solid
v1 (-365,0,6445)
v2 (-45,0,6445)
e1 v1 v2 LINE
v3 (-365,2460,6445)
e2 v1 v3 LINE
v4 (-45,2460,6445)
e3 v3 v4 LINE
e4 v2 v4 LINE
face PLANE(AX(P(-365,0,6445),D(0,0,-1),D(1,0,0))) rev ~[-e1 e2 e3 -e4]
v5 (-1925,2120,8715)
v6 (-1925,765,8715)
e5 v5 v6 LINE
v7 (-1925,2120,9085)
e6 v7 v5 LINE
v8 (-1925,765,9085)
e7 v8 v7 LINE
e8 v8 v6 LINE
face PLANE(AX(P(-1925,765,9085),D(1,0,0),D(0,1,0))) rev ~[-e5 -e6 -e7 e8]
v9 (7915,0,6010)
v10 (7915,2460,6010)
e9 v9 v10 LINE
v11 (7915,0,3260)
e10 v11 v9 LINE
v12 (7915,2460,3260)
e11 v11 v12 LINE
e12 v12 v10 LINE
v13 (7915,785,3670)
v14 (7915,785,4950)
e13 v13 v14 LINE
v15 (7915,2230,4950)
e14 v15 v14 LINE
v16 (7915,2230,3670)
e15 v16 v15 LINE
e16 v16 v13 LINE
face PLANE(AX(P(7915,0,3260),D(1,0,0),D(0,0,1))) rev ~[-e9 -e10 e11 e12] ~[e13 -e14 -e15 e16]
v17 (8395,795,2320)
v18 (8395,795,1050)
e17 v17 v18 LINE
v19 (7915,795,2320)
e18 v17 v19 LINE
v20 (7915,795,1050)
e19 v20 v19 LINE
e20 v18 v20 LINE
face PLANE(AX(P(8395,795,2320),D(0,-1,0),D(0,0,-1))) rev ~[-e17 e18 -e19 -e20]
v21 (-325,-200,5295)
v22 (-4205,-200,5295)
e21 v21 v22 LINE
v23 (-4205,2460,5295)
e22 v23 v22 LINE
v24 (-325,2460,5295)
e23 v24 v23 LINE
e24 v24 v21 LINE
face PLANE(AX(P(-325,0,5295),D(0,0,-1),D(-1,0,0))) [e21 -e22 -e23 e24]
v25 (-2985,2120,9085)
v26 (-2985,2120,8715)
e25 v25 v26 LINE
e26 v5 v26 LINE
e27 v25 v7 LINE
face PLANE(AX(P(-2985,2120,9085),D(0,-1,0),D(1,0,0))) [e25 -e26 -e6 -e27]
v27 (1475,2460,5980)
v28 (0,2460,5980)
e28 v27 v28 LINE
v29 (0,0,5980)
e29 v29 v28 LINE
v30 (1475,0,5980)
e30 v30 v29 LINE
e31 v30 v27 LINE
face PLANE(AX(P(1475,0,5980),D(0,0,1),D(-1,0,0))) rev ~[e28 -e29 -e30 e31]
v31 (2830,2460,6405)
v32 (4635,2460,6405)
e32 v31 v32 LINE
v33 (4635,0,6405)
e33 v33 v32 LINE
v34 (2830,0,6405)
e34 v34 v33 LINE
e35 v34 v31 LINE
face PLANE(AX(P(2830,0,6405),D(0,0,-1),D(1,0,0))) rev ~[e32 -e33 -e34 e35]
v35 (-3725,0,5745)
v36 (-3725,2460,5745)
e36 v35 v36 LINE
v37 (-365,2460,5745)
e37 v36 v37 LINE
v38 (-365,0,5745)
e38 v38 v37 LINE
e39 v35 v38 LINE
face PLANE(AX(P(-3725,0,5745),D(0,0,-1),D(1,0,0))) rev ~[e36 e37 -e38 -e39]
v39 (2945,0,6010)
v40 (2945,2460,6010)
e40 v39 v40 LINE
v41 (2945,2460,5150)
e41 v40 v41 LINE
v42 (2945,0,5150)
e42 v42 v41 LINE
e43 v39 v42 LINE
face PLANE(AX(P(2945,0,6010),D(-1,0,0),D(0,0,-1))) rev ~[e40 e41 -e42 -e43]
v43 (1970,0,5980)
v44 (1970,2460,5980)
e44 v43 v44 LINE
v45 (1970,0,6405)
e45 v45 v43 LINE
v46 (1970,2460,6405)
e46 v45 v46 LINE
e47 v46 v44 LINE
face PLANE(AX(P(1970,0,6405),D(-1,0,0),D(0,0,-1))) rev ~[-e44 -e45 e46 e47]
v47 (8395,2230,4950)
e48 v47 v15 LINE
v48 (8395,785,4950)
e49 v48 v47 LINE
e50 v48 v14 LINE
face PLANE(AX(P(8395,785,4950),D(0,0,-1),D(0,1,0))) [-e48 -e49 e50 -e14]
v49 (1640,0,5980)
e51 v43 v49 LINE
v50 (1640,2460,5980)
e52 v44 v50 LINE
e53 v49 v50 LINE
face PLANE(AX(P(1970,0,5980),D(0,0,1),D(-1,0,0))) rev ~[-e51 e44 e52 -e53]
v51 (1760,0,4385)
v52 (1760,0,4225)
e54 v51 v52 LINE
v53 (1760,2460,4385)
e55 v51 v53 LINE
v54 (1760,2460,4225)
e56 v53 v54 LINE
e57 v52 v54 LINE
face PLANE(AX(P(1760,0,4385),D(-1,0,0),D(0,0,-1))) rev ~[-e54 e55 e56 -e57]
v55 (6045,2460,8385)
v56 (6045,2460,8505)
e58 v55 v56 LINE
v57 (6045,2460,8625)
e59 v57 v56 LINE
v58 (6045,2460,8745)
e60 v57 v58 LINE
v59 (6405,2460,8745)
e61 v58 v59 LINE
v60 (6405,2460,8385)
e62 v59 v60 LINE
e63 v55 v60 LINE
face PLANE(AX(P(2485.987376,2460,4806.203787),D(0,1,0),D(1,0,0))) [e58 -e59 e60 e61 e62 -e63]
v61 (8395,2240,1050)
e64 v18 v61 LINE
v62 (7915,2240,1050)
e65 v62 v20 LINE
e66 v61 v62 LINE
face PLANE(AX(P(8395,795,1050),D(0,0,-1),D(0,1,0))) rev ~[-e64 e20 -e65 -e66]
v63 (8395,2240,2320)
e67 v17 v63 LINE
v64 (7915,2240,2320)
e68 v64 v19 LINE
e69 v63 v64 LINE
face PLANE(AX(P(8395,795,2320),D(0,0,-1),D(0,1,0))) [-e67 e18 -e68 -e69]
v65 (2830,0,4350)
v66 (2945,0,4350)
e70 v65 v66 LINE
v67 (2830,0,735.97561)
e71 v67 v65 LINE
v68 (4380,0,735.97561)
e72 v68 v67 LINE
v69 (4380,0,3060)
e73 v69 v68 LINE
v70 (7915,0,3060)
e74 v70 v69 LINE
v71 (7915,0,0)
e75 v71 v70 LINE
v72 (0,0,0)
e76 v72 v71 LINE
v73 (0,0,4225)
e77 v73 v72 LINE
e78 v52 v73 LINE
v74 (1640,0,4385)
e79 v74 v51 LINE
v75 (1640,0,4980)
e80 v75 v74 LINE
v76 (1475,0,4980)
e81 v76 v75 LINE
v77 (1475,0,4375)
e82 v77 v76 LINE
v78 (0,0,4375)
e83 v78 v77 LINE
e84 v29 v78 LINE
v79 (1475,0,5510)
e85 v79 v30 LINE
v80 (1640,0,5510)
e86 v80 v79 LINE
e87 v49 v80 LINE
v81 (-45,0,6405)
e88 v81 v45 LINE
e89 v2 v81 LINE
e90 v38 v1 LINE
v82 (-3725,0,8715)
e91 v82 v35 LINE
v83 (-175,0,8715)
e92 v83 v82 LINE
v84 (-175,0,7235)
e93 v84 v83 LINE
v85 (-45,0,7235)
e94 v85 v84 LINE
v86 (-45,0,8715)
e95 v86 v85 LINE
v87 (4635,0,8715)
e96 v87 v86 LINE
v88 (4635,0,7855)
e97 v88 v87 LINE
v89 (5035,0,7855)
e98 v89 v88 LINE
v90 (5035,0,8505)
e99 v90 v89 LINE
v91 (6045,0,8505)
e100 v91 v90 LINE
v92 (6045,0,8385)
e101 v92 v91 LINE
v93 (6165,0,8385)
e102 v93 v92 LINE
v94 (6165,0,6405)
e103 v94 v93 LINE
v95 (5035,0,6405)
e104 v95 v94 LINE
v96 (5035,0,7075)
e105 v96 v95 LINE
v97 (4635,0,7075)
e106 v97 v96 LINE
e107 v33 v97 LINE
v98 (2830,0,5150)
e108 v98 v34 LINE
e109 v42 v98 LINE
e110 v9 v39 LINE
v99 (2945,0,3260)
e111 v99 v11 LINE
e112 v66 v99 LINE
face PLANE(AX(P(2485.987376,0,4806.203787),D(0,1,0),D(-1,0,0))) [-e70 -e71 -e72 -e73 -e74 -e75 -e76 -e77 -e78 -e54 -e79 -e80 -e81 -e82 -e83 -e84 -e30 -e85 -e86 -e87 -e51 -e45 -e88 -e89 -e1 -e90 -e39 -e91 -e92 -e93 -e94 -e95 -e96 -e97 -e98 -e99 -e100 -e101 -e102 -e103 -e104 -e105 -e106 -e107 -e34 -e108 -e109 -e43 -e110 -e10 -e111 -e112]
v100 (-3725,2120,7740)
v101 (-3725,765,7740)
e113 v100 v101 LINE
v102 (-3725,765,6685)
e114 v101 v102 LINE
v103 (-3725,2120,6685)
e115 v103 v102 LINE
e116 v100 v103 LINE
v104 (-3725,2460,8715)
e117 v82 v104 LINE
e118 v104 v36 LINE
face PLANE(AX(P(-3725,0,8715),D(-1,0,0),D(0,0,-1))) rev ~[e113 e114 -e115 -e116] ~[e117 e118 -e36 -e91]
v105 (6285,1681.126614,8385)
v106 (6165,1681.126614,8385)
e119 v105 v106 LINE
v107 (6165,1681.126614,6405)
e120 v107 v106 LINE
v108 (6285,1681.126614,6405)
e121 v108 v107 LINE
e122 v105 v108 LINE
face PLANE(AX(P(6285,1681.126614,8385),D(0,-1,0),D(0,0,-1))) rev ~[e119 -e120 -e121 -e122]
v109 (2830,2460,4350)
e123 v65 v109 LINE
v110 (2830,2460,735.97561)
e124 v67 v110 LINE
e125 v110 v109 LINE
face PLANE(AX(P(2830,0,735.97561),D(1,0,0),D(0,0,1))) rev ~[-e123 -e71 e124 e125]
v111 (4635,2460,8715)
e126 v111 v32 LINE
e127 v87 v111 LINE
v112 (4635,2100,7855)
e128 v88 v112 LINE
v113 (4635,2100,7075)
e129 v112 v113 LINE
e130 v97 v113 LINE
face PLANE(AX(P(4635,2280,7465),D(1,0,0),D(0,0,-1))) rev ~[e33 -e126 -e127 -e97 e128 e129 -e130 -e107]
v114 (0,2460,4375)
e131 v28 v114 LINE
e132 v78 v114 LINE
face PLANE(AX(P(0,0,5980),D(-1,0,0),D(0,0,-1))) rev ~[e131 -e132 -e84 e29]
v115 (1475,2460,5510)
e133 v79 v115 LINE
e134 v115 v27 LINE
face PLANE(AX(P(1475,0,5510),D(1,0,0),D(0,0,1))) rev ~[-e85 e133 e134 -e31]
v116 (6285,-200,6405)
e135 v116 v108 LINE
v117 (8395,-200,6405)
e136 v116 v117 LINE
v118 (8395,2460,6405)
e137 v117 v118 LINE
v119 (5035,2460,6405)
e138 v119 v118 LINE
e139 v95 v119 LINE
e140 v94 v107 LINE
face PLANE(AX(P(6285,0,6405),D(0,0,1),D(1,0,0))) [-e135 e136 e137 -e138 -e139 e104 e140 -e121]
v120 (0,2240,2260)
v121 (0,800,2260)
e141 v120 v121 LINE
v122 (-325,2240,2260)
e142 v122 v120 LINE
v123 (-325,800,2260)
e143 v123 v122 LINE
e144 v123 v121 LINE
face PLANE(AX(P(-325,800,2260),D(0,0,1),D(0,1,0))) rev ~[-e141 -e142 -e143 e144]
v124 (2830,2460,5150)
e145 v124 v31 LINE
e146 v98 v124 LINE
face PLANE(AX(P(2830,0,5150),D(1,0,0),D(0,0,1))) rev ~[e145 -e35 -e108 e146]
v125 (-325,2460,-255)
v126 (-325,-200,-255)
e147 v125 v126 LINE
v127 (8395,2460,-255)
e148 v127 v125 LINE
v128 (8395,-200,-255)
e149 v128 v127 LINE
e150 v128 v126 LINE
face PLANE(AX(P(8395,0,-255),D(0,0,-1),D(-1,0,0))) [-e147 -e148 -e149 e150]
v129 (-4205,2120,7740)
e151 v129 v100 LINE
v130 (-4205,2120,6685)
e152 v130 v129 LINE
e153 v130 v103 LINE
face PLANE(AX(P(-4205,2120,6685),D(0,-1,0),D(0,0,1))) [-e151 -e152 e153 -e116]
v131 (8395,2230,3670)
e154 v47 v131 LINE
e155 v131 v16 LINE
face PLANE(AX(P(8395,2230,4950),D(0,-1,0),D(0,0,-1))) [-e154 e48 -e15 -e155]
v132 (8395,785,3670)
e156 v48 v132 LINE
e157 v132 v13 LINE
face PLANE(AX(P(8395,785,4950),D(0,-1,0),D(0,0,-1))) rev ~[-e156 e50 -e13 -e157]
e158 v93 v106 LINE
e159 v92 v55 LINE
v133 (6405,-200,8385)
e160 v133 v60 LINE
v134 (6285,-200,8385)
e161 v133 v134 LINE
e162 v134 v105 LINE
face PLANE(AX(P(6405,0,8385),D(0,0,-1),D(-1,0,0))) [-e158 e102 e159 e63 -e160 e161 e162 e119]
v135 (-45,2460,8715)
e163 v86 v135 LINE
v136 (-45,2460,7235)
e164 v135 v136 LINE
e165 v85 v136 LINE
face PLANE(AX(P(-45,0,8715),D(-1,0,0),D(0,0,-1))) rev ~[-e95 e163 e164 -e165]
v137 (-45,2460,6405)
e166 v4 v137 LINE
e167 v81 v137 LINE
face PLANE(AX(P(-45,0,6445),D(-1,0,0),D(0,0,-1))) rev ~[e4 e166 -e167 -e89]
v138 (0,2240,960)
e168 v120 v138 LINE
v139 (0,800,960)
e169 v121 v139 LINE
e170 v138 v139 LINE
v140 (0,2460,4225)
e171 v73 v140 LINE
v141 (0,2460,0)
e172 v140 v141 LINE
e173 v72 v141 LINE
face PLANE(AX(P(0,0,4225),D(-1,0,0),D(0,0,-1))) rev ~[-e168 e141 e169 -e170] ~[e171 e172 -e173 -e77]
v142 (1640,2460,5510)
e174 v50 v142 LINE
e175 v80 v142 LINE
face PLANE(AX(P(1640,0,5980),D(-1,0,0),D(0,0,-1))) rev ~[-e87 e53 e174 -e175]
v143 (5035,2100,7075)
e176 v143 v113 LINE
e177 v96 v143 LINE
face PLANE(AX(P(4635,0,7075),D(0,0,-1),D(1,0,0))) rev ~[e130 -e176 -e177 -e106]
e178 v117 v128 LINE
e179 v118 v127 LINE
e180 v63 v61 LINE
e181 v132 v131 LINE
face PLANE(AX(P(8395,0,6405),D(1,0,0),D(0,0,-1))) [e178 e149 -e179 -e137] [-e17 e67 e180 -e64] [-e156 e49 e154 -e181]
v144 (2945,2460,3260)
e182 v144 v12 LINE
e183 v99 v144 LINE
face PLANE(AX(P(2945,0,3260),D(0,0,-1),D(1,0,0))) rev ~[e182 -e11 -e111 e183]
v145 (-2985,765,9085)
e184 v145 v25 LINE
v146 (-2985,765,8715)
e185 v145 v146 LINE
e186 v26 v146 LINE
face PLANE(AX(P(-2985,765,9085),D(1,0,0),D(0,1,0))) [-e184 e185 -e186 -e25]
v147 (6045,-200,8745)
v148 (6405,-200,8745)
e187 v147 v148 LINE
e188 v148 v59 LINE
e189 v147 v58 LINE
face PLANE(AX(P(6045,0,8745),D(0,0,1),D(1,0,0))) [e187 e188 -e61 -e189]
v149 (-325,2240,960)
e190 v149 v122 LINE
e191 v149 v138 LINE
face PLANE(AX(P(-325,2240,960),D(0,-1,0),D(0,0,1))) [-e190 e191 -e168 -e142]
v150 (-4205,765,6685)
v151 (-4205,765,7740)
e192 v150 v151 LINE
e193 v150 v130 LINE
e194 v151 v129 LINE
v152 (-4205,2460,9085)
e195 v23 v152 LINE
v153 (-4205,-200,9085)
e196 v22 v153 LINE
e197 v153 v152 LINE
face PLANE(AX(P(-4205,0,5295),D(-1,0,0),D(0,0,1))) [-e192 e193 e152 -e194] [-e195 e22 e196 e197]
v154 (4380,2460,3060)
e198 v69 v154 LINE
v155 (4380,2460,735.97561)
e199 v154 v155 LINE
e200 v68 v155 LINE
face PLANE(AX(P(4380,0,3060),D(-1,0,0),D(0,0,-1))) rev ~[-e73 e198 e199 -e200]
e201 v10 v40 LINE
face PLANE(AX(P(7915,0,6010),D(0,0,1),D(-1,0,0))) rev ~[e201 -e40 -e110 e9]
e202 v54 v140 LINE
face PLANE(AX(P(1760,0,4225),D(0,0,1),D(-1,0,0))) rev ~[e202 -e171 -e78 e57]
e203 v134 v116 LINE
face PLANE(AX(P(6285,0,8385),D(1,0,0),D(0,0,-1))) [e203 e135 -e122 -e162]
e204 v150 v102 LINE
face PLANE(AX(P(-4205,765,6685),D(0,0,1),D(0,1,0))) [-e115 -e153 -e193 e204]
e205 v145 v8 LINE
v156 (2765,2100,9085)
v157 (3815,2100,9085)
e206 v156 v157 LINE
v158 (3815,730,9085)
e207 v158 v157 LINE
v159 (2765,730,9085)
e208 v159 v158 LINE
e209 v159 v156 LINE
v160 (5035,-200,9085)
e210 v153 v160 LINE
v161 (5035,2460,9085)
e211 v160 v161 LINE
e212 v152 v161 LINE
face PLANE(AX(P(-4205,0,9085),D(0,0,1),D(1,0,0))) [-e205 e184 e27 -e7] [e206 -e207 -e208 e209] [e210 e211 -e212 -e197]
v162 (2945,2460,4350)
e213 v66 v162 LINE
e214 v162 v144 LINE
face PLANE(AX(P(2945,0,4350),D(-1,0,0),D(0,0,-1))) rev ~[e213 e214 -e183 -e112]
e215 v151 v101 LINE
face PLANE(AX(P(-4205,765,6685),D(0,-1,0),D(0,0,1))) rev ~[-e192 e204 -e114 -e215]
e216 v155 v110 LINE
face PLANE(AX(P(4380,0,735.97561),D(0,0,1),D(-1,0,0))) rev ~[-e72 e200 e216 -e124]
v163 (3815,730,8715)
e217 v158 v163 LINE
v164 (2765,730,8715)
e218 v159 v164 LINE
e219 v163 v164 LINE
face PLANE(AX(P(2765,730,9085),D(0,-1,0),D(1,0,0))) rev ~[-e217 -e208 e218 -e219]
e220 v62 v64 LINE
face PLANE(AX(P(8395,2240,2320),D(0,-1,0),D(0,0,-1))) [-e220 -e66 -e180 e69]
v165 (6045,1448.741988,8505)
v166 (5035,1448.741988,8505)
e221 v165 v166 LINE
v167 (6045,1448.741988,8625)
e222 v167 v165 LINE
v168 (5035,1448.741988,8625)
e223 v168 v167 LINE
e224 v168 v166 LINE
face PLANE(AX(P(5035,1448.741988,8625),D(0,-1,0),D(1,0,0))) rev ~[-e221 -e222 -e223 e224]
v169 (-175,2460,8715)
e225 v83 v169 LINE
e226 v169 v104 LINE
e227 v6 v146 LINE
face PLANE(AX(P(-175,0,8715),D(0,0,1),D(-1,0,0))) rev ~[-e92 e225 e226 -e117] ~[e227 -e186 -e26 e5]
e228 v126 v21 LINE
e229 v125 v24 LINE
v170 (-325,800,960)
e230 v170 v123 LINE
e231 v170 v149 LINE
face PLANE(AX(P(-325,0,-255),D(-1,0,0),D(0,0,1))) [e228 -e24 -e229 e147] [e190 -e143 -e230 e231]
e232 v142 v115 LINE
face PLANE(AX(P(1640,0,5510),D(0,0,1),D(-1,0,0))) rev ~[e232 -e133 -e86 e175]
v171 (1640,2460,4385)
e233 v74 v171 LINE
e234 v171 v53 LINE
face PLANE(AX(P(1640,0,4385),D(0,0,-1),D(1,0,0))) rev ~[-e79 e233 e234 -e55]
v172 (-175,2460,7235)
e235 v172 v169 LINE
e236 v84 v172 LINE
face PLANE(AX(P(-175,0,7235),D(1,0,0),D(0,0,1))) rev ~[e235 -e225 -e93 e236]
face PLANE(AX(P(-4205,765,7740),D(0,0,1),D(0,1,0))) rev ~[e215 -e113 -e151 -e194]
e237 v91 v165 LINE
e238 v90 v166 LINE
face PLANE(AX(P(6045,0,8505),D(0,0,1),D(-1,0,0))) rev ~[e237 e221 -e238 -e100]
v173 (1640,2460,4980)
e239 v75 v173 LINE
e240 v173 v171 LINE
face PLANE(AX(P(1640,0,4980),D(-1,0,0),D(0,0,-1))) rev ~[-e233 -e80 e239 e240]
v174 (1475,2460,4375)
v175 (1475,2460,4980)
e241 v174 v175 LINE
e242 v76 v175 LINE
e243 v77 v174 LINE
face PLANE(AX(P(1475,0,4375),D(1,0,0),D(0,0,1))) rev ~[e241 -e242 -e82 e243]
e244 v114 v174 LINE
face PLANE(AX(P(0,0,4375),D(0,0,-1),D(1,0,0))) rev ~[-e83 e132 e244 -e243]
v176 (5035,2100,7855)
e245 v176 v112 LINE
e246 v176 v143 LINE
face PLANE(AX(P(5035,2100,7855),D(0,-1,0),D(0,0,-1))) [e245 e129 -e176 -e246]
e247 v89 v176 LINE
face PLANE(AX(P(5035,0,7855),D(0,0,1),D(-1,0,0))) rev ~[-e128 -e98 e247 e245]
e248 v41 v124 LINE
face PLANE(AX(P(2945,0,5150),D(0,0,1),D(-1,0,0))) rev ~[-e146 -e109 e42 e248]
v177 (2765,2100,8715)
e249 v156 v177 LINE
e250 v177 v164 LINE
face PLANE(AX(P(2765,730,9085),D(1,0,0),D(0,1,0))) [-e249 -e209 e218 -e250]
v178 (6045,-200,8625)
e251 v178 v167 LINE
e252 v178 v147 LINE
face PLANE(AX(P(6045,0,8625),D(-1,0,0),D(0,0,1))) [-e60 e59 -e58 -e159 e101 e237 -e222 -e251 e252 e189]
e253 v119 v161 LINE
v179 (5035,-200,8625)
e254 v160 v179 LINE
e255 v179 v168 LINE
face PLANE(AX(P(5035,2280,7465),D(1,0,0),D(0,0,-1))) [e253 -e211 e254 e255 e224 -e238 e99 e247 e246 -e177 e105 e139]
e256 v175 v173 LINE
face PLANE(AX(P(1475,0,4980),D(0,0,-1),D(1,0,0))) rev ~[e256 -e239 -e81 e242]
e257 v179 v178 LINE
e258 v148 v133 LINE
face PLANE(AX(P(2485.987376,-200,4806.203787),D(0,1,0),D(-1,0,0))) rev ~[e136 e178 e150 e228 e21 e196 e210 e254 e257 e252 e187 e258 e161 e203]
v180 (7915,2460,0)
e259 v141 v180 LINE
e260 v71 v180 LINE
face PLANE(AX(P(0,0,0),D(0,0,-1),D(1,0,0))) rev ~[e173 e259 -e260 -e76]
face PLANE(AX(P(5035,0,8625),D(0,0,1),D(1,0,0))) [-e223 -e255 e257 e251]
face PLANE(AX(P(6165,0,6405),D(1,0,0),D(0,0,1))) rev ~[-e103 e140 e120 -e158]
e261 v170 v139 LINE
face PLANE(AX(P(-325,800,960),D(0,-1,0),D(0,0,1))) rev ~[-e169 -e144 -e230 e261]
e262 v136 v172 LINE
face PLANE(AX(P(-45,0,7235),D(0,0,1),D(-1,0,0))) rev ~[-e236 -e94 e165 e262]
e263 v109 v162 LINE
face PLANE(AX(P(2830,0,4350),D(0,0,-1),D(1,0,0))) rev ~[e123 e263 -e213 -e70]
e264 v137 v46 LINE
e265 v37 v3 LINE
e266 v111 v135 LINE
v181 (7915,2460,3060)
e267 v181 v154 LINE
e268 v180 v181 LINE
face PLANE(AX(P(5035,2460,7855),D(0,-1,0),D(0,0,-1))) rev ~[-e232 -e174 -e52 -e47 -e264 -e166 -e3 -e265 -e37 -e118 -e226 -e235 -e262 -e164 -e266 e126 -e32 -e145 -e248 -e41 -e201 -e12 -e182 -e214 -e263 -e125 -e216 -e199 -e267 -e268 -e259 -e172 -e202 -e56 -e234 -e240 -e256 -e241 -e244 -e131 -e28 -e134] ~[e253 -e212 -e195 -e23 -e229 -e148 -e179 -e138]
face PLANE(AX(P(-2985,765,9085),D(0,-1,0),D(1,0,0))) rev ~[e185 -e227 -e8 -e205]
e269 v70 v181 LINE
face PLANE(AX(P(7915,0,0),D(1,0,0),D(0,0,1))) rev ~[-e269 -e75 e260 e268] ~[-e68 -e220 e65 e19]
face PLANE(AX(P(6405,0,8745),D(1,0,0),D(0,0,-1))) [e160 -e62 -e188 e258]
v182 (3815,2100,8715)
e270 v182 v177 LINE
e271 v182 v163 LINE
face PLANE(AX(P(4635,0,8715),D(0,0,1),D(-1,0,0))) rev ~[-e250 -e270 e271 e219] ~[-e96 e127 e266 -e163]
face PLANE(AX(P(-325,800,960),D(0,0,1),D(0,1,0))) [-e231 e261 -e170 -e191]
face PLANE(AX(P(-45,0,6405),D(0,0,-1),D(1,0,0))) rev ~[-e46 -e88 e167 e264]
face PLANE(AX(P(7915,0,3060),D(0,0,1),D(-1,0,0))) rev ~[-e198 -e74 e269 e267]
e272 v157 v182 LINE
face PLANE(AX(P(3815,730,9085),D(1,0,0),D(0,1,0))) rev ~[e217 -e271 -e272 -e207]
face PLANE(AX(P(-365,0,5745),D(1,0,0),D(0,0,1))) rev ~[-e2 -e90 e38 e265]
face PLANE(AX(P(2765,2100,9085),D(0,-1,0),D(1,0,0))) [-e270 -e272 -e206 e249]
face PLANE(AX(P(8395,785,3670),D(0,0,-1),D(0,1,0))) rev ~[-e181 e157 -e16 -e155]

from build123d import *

# Parameters (mm, degrees)
EXTRUDE_1_DEPTH     = 2460
EXTRUDE_2_DEPTH     = 200
CUT_EXTRUDE_1_REACH = 12467.233
SKETCH_3_W          = 1010
SKETCH_3_H          = 1011.258012307
CUT_EXTRUDE_2_REACH = 14095.577
SKETCH_4_W          = 1980
SKETCH_4_H          = 778.873385884
SKETCH_5_W          = 780
SKETCH_5_H          = 360
EXTRUDE_3_DEPTH     = 400
CUT_EXTRUDE_3_REACH = 12799.001
SKETCH_6_W          = 1050
SKETCH_6_H          = 1370
SKETCH_6_W_2        = 1060
SKETCH_6_H_2        = 1355
CUT_EXTRUDE_4_REACH = 15729.327
SKETCH_7_W          = 1055
SKETCH_7_H          = 1355
CUT_EXTRUDE_5_REACH = 12832.714
SKETCH_8_W          = 1300
SKETCH_8_H          = 1440
CUT_EXTRUDE_6_REACH = 15729.327
SKETCH_9_W          = 1280
SKETCH_9_H          = 1445
SKETCH_9_W_2        = 1270


with BuildPart() as part:
    # Эскиз1 → Бобышка-Вытянуть1 (new body)
    with BuildSketch(Plane(origin=(0, 0, 0), x_dir=(1, 0, 0), z_dir=(0, 1, 0))):
        Polygon((6045, -8625), (6045, -8745), (6405, -8745), (6405, -8385), (6285, -8385), (6285, -6405), (8395, -6405), (8395, 255), (-325, 255), (-325, -5295), (-4205, -5295), (-4205, -9085), (5035, -9085), (5035, -8625), align=None)
        Polygon((0, 0), (7823.261739164, 0), (7915, 0), (7915, -3060), (4380, -3060), (4380, -735.975609756), (4230, -735.975609756), (3000, -735.975609756), (2830, -735.975609756), (2830, -4350), (2945, -4350), (2945, -3260), (7915, -3260), (7915, -6010), (2945, -6010), (2945, -5150), (2830, -5150), (2830, -6010), (2830, -6405), (4635, -6405), (4635, -7075), (5035, -7075), (5035, -6405), (6165, -6405), (6165, -8385), (6045, -8385), (6045, -8505), (5035, -8505), (5035, -7855), (4635, -7855), (4635, -8715), (-45, -8715), (-45, -7235), (-175, -7235), (-175, -8715), (-3725, -8715), (-3725, -5745), (-365, -5745), (-365, -6445), (-45, -6445), (-45, -6405), (1970, -6405), (1970, -5980), (1640, -5980), (1640, -5510), (1475, -5510), (1475, -5980), (0, -5980), (0, -4375), (1475, -4375), (1475, -4980), (1640, -4980), (1640, -4385), (1760, -4385), (1760, -4225), (0, -4225), align=None, mode=Mode.SUBTRACT)
    extrude(amount=EXTRUDE_1_DEPTH)

    # Эскиз2 → Бобышка-Вытянуть2 (add)
    with BuildSketch(Plane.XZ):
        Polygon((-4205, 5295), (-4205, 9085), (5035, 9085), (5035, 8625), (6045, 8625), (6045, 8745), (6405, 8745), (6405, 8385), (6285, 8385), (6285, 6405), (8395, 6405), (8395, -255), (-325, -255), (-325, 5295), align=None)
    extrude(amount=EXTRUDE_2_DEPTH)

    # Эскиз3 → Вырез-Вытянуть1 (cut, up to next)
    with BuildSketch(Plane.XY.offset(8625), mode=Mode.PRIVATE) as cut_extrude_1_sk1:
        with Locations((5540, 1954.370993846)):
            Rectangle(SKETCH_3_W, SKETCH_3_H)
    cut_extrude_1_tool1 = extrude(cut_extrude_1_sk1.sketch, amount=-CUT_EXTRUDE_1_REACH, mode=Mode.PRIVATE) & part.part
    add(cut_extrude_1_tool1.solids().sort_by_distance((5540, 1954.370994, 8625))[0], mode=Mode.SUBTRACT)

    # Эскиз4 → Вырез-Вытянуть2 (cut, up to next)
    with BuildSketch(Plane(origin=(6285, 0, 0), x_dir=(0, 0, -1), z_dir=(1, 0, 0)), mode=Mode.PRIVATE) as cut_extrude_2_sk1:
        with Locations((-7395, 2070.563307058)):
            Rectangle(SKETCH_4_W, SKETCH_4_H)
    cut_extrude_2_tool1 = extrude(cut_extrude_2_sk1.sketch, amount=-CUT_EXTRUDE_2_REACH, mode=Mode.PRIVATE) & part.part
    add(cut_extrude_2_tool1.solids().sort_by_distance((6285, 2070.563307, 7395))[0], mode=Mode.SUBTRACT)

    # Эскиз5 → Бобышка-Вытянуть3 (add)
    with BuildSketch(Plane(origin=(5035, 0, 0), x_dir=(0, 0, -1), z_dir=(1, 0, 0))):
        with Locations((-7465, 2280)):
            Rectangle(SKETCH_5_W, SKETCH_5_H)
    extrude(amount=-EXTRUDE_3_DEPTH)

    # Эскиз6 → Вырез-Вытянуть3 (cut, up to next)
    with BuildSketch(Plane.XY.offset(9085), mode=Mode.PRIVATE) as cut_extrude_3_sk1:
        with Locations((3290, 1415)):
            Rectangle(SKETCH_6_W, SKETCH_6_H)
    cut_extrude_3_tool1 = extrude(cut_extrude_3_sk1.sketch, amount=-CUT_EXTRUDE_3_REACH, mode=Mode.PRIVATE) & part.part
    # Эскиз6 → Вырез-Вытянуть3 (cut, up to next)
    with BuildSketch(Plane.XY.offset(9085), mode=Mode.PRIVATE) as cut_extrude_3_sk2:
        with Locations((-2455, 1442.5)):
            Rectangle(SKETCH_6_W_2, SKETCH_6_H_2)
    cut_extrude_3_tool2 = extrude(cut_extrude_3_sk2.sketch, amount=-CUT_EXTRUDE_3_REACH, mode=Mode.PRIVATE) & part.part
    add(cut_extrude_3_tool1.solids().sort_by_distance((3290, 1415, 9085))[0], mode=Mode.SUBTRACT)
    add(cut_extrude_3_tool2.solids().sort_by_distance((-2455, 1442.5, 9085))[0], mode=Mode.SUBTRACT)

    # Эскиз7 → Вырез-Вытянуть4 (cut, up to next)
    with BuildSketch(Plane.ZY.offset(4205), mode=Mode.PRIVATE) as cut_extrude_4_sk1:
        with Locations((7212.5, 1442.5)):
            Rectangle(SKETCH_7_W, SKETCH_7_H)
    cut_extrude_4_tool1 = extrude(cut_extrude_4_sk1.sketch, amount=-CUT_EXTRUDE_4_REACH, mode=Mode.PRIVATE) & part.part
    add(cut_extrude_4_tool1.solids().sort_by_distance((-4205, 1442.5, 7212.5))[0], mode=Mode.SUBTRACT)

    # Эскиз8 → Вырез-Вытянуть5 (cut, up to next)
    with BuildSketch(Plane.ZY.offset(325), mode=Mode.PRIVATE) as cut_extrude_5_sk1:
        with Locations((1610, 1520)):
            Rectangle(SKETCH_8_W, SKETCH_8_H)
    cut_extrude_5_tool1 = extrude(cut_extrude_5_sk1.sketch, amount=-CUT_EXTRUDE_5_REACH, mode=Mode.PRIVATE) & part.part
    add(cut_extrude_5_tool1.solids().sort_by_distance((-325, 1520, 1610))[0], mode=Mode.SUBTRACT)

    # Эскиз9 → Вырез-Вытянуть6 (cut, up to next)
    with BuildSketch(Plane(origin=(8395, 0, 0), x_dir=(0, 0, -1), z_dir=(1, 0, 0)), mode=Mode.PRIVATE) as cut_extrude_6_sk1:
        with Locations((-4310, 1507.5)):
            Rectangle(SKETCH_9_W, SKETCH_9_H)
    cut_extrude_6_tool1 = extrude(cut_extrude_6_sk1.sketch, amount=-CUT_EXTRUDE_6_REACH, mode=Mode.PRIVATE) & part.part
    # Эскиз9 → Вырез-Вытянуть6 (cut, up to next)
    with BuildSketch(Plane(origin=(8395, 0, 0), x_dir=(0, 0, -1), z_dir=(1, 0, 0)), mode=Mode.PRIVATE) as cut_extrude_6_sk2:
        with Locations((-1685, 1517.5)):
            Rectangle(SKETCH_9_W_2, SKETCH_9_H)
    cut_extrude_6_tool2 = extrude(cut_extrude_6_sk2.sketch, amount=-CUT_EXTRUDE_6_REACH, mode=Mode.PRIVATE) & part.part
    add(cut_extrude_6_tool1.solids().sort_by_distance((8395, 1507.5, 4310))[0], mode=Mode.SUBTRACT)
    add(cut_extrude_6_tool2.solids().sort_by_distance((8395, 1517.5, 1685))[0], mode=Mode.SUBTRACT)


solid = part.part
